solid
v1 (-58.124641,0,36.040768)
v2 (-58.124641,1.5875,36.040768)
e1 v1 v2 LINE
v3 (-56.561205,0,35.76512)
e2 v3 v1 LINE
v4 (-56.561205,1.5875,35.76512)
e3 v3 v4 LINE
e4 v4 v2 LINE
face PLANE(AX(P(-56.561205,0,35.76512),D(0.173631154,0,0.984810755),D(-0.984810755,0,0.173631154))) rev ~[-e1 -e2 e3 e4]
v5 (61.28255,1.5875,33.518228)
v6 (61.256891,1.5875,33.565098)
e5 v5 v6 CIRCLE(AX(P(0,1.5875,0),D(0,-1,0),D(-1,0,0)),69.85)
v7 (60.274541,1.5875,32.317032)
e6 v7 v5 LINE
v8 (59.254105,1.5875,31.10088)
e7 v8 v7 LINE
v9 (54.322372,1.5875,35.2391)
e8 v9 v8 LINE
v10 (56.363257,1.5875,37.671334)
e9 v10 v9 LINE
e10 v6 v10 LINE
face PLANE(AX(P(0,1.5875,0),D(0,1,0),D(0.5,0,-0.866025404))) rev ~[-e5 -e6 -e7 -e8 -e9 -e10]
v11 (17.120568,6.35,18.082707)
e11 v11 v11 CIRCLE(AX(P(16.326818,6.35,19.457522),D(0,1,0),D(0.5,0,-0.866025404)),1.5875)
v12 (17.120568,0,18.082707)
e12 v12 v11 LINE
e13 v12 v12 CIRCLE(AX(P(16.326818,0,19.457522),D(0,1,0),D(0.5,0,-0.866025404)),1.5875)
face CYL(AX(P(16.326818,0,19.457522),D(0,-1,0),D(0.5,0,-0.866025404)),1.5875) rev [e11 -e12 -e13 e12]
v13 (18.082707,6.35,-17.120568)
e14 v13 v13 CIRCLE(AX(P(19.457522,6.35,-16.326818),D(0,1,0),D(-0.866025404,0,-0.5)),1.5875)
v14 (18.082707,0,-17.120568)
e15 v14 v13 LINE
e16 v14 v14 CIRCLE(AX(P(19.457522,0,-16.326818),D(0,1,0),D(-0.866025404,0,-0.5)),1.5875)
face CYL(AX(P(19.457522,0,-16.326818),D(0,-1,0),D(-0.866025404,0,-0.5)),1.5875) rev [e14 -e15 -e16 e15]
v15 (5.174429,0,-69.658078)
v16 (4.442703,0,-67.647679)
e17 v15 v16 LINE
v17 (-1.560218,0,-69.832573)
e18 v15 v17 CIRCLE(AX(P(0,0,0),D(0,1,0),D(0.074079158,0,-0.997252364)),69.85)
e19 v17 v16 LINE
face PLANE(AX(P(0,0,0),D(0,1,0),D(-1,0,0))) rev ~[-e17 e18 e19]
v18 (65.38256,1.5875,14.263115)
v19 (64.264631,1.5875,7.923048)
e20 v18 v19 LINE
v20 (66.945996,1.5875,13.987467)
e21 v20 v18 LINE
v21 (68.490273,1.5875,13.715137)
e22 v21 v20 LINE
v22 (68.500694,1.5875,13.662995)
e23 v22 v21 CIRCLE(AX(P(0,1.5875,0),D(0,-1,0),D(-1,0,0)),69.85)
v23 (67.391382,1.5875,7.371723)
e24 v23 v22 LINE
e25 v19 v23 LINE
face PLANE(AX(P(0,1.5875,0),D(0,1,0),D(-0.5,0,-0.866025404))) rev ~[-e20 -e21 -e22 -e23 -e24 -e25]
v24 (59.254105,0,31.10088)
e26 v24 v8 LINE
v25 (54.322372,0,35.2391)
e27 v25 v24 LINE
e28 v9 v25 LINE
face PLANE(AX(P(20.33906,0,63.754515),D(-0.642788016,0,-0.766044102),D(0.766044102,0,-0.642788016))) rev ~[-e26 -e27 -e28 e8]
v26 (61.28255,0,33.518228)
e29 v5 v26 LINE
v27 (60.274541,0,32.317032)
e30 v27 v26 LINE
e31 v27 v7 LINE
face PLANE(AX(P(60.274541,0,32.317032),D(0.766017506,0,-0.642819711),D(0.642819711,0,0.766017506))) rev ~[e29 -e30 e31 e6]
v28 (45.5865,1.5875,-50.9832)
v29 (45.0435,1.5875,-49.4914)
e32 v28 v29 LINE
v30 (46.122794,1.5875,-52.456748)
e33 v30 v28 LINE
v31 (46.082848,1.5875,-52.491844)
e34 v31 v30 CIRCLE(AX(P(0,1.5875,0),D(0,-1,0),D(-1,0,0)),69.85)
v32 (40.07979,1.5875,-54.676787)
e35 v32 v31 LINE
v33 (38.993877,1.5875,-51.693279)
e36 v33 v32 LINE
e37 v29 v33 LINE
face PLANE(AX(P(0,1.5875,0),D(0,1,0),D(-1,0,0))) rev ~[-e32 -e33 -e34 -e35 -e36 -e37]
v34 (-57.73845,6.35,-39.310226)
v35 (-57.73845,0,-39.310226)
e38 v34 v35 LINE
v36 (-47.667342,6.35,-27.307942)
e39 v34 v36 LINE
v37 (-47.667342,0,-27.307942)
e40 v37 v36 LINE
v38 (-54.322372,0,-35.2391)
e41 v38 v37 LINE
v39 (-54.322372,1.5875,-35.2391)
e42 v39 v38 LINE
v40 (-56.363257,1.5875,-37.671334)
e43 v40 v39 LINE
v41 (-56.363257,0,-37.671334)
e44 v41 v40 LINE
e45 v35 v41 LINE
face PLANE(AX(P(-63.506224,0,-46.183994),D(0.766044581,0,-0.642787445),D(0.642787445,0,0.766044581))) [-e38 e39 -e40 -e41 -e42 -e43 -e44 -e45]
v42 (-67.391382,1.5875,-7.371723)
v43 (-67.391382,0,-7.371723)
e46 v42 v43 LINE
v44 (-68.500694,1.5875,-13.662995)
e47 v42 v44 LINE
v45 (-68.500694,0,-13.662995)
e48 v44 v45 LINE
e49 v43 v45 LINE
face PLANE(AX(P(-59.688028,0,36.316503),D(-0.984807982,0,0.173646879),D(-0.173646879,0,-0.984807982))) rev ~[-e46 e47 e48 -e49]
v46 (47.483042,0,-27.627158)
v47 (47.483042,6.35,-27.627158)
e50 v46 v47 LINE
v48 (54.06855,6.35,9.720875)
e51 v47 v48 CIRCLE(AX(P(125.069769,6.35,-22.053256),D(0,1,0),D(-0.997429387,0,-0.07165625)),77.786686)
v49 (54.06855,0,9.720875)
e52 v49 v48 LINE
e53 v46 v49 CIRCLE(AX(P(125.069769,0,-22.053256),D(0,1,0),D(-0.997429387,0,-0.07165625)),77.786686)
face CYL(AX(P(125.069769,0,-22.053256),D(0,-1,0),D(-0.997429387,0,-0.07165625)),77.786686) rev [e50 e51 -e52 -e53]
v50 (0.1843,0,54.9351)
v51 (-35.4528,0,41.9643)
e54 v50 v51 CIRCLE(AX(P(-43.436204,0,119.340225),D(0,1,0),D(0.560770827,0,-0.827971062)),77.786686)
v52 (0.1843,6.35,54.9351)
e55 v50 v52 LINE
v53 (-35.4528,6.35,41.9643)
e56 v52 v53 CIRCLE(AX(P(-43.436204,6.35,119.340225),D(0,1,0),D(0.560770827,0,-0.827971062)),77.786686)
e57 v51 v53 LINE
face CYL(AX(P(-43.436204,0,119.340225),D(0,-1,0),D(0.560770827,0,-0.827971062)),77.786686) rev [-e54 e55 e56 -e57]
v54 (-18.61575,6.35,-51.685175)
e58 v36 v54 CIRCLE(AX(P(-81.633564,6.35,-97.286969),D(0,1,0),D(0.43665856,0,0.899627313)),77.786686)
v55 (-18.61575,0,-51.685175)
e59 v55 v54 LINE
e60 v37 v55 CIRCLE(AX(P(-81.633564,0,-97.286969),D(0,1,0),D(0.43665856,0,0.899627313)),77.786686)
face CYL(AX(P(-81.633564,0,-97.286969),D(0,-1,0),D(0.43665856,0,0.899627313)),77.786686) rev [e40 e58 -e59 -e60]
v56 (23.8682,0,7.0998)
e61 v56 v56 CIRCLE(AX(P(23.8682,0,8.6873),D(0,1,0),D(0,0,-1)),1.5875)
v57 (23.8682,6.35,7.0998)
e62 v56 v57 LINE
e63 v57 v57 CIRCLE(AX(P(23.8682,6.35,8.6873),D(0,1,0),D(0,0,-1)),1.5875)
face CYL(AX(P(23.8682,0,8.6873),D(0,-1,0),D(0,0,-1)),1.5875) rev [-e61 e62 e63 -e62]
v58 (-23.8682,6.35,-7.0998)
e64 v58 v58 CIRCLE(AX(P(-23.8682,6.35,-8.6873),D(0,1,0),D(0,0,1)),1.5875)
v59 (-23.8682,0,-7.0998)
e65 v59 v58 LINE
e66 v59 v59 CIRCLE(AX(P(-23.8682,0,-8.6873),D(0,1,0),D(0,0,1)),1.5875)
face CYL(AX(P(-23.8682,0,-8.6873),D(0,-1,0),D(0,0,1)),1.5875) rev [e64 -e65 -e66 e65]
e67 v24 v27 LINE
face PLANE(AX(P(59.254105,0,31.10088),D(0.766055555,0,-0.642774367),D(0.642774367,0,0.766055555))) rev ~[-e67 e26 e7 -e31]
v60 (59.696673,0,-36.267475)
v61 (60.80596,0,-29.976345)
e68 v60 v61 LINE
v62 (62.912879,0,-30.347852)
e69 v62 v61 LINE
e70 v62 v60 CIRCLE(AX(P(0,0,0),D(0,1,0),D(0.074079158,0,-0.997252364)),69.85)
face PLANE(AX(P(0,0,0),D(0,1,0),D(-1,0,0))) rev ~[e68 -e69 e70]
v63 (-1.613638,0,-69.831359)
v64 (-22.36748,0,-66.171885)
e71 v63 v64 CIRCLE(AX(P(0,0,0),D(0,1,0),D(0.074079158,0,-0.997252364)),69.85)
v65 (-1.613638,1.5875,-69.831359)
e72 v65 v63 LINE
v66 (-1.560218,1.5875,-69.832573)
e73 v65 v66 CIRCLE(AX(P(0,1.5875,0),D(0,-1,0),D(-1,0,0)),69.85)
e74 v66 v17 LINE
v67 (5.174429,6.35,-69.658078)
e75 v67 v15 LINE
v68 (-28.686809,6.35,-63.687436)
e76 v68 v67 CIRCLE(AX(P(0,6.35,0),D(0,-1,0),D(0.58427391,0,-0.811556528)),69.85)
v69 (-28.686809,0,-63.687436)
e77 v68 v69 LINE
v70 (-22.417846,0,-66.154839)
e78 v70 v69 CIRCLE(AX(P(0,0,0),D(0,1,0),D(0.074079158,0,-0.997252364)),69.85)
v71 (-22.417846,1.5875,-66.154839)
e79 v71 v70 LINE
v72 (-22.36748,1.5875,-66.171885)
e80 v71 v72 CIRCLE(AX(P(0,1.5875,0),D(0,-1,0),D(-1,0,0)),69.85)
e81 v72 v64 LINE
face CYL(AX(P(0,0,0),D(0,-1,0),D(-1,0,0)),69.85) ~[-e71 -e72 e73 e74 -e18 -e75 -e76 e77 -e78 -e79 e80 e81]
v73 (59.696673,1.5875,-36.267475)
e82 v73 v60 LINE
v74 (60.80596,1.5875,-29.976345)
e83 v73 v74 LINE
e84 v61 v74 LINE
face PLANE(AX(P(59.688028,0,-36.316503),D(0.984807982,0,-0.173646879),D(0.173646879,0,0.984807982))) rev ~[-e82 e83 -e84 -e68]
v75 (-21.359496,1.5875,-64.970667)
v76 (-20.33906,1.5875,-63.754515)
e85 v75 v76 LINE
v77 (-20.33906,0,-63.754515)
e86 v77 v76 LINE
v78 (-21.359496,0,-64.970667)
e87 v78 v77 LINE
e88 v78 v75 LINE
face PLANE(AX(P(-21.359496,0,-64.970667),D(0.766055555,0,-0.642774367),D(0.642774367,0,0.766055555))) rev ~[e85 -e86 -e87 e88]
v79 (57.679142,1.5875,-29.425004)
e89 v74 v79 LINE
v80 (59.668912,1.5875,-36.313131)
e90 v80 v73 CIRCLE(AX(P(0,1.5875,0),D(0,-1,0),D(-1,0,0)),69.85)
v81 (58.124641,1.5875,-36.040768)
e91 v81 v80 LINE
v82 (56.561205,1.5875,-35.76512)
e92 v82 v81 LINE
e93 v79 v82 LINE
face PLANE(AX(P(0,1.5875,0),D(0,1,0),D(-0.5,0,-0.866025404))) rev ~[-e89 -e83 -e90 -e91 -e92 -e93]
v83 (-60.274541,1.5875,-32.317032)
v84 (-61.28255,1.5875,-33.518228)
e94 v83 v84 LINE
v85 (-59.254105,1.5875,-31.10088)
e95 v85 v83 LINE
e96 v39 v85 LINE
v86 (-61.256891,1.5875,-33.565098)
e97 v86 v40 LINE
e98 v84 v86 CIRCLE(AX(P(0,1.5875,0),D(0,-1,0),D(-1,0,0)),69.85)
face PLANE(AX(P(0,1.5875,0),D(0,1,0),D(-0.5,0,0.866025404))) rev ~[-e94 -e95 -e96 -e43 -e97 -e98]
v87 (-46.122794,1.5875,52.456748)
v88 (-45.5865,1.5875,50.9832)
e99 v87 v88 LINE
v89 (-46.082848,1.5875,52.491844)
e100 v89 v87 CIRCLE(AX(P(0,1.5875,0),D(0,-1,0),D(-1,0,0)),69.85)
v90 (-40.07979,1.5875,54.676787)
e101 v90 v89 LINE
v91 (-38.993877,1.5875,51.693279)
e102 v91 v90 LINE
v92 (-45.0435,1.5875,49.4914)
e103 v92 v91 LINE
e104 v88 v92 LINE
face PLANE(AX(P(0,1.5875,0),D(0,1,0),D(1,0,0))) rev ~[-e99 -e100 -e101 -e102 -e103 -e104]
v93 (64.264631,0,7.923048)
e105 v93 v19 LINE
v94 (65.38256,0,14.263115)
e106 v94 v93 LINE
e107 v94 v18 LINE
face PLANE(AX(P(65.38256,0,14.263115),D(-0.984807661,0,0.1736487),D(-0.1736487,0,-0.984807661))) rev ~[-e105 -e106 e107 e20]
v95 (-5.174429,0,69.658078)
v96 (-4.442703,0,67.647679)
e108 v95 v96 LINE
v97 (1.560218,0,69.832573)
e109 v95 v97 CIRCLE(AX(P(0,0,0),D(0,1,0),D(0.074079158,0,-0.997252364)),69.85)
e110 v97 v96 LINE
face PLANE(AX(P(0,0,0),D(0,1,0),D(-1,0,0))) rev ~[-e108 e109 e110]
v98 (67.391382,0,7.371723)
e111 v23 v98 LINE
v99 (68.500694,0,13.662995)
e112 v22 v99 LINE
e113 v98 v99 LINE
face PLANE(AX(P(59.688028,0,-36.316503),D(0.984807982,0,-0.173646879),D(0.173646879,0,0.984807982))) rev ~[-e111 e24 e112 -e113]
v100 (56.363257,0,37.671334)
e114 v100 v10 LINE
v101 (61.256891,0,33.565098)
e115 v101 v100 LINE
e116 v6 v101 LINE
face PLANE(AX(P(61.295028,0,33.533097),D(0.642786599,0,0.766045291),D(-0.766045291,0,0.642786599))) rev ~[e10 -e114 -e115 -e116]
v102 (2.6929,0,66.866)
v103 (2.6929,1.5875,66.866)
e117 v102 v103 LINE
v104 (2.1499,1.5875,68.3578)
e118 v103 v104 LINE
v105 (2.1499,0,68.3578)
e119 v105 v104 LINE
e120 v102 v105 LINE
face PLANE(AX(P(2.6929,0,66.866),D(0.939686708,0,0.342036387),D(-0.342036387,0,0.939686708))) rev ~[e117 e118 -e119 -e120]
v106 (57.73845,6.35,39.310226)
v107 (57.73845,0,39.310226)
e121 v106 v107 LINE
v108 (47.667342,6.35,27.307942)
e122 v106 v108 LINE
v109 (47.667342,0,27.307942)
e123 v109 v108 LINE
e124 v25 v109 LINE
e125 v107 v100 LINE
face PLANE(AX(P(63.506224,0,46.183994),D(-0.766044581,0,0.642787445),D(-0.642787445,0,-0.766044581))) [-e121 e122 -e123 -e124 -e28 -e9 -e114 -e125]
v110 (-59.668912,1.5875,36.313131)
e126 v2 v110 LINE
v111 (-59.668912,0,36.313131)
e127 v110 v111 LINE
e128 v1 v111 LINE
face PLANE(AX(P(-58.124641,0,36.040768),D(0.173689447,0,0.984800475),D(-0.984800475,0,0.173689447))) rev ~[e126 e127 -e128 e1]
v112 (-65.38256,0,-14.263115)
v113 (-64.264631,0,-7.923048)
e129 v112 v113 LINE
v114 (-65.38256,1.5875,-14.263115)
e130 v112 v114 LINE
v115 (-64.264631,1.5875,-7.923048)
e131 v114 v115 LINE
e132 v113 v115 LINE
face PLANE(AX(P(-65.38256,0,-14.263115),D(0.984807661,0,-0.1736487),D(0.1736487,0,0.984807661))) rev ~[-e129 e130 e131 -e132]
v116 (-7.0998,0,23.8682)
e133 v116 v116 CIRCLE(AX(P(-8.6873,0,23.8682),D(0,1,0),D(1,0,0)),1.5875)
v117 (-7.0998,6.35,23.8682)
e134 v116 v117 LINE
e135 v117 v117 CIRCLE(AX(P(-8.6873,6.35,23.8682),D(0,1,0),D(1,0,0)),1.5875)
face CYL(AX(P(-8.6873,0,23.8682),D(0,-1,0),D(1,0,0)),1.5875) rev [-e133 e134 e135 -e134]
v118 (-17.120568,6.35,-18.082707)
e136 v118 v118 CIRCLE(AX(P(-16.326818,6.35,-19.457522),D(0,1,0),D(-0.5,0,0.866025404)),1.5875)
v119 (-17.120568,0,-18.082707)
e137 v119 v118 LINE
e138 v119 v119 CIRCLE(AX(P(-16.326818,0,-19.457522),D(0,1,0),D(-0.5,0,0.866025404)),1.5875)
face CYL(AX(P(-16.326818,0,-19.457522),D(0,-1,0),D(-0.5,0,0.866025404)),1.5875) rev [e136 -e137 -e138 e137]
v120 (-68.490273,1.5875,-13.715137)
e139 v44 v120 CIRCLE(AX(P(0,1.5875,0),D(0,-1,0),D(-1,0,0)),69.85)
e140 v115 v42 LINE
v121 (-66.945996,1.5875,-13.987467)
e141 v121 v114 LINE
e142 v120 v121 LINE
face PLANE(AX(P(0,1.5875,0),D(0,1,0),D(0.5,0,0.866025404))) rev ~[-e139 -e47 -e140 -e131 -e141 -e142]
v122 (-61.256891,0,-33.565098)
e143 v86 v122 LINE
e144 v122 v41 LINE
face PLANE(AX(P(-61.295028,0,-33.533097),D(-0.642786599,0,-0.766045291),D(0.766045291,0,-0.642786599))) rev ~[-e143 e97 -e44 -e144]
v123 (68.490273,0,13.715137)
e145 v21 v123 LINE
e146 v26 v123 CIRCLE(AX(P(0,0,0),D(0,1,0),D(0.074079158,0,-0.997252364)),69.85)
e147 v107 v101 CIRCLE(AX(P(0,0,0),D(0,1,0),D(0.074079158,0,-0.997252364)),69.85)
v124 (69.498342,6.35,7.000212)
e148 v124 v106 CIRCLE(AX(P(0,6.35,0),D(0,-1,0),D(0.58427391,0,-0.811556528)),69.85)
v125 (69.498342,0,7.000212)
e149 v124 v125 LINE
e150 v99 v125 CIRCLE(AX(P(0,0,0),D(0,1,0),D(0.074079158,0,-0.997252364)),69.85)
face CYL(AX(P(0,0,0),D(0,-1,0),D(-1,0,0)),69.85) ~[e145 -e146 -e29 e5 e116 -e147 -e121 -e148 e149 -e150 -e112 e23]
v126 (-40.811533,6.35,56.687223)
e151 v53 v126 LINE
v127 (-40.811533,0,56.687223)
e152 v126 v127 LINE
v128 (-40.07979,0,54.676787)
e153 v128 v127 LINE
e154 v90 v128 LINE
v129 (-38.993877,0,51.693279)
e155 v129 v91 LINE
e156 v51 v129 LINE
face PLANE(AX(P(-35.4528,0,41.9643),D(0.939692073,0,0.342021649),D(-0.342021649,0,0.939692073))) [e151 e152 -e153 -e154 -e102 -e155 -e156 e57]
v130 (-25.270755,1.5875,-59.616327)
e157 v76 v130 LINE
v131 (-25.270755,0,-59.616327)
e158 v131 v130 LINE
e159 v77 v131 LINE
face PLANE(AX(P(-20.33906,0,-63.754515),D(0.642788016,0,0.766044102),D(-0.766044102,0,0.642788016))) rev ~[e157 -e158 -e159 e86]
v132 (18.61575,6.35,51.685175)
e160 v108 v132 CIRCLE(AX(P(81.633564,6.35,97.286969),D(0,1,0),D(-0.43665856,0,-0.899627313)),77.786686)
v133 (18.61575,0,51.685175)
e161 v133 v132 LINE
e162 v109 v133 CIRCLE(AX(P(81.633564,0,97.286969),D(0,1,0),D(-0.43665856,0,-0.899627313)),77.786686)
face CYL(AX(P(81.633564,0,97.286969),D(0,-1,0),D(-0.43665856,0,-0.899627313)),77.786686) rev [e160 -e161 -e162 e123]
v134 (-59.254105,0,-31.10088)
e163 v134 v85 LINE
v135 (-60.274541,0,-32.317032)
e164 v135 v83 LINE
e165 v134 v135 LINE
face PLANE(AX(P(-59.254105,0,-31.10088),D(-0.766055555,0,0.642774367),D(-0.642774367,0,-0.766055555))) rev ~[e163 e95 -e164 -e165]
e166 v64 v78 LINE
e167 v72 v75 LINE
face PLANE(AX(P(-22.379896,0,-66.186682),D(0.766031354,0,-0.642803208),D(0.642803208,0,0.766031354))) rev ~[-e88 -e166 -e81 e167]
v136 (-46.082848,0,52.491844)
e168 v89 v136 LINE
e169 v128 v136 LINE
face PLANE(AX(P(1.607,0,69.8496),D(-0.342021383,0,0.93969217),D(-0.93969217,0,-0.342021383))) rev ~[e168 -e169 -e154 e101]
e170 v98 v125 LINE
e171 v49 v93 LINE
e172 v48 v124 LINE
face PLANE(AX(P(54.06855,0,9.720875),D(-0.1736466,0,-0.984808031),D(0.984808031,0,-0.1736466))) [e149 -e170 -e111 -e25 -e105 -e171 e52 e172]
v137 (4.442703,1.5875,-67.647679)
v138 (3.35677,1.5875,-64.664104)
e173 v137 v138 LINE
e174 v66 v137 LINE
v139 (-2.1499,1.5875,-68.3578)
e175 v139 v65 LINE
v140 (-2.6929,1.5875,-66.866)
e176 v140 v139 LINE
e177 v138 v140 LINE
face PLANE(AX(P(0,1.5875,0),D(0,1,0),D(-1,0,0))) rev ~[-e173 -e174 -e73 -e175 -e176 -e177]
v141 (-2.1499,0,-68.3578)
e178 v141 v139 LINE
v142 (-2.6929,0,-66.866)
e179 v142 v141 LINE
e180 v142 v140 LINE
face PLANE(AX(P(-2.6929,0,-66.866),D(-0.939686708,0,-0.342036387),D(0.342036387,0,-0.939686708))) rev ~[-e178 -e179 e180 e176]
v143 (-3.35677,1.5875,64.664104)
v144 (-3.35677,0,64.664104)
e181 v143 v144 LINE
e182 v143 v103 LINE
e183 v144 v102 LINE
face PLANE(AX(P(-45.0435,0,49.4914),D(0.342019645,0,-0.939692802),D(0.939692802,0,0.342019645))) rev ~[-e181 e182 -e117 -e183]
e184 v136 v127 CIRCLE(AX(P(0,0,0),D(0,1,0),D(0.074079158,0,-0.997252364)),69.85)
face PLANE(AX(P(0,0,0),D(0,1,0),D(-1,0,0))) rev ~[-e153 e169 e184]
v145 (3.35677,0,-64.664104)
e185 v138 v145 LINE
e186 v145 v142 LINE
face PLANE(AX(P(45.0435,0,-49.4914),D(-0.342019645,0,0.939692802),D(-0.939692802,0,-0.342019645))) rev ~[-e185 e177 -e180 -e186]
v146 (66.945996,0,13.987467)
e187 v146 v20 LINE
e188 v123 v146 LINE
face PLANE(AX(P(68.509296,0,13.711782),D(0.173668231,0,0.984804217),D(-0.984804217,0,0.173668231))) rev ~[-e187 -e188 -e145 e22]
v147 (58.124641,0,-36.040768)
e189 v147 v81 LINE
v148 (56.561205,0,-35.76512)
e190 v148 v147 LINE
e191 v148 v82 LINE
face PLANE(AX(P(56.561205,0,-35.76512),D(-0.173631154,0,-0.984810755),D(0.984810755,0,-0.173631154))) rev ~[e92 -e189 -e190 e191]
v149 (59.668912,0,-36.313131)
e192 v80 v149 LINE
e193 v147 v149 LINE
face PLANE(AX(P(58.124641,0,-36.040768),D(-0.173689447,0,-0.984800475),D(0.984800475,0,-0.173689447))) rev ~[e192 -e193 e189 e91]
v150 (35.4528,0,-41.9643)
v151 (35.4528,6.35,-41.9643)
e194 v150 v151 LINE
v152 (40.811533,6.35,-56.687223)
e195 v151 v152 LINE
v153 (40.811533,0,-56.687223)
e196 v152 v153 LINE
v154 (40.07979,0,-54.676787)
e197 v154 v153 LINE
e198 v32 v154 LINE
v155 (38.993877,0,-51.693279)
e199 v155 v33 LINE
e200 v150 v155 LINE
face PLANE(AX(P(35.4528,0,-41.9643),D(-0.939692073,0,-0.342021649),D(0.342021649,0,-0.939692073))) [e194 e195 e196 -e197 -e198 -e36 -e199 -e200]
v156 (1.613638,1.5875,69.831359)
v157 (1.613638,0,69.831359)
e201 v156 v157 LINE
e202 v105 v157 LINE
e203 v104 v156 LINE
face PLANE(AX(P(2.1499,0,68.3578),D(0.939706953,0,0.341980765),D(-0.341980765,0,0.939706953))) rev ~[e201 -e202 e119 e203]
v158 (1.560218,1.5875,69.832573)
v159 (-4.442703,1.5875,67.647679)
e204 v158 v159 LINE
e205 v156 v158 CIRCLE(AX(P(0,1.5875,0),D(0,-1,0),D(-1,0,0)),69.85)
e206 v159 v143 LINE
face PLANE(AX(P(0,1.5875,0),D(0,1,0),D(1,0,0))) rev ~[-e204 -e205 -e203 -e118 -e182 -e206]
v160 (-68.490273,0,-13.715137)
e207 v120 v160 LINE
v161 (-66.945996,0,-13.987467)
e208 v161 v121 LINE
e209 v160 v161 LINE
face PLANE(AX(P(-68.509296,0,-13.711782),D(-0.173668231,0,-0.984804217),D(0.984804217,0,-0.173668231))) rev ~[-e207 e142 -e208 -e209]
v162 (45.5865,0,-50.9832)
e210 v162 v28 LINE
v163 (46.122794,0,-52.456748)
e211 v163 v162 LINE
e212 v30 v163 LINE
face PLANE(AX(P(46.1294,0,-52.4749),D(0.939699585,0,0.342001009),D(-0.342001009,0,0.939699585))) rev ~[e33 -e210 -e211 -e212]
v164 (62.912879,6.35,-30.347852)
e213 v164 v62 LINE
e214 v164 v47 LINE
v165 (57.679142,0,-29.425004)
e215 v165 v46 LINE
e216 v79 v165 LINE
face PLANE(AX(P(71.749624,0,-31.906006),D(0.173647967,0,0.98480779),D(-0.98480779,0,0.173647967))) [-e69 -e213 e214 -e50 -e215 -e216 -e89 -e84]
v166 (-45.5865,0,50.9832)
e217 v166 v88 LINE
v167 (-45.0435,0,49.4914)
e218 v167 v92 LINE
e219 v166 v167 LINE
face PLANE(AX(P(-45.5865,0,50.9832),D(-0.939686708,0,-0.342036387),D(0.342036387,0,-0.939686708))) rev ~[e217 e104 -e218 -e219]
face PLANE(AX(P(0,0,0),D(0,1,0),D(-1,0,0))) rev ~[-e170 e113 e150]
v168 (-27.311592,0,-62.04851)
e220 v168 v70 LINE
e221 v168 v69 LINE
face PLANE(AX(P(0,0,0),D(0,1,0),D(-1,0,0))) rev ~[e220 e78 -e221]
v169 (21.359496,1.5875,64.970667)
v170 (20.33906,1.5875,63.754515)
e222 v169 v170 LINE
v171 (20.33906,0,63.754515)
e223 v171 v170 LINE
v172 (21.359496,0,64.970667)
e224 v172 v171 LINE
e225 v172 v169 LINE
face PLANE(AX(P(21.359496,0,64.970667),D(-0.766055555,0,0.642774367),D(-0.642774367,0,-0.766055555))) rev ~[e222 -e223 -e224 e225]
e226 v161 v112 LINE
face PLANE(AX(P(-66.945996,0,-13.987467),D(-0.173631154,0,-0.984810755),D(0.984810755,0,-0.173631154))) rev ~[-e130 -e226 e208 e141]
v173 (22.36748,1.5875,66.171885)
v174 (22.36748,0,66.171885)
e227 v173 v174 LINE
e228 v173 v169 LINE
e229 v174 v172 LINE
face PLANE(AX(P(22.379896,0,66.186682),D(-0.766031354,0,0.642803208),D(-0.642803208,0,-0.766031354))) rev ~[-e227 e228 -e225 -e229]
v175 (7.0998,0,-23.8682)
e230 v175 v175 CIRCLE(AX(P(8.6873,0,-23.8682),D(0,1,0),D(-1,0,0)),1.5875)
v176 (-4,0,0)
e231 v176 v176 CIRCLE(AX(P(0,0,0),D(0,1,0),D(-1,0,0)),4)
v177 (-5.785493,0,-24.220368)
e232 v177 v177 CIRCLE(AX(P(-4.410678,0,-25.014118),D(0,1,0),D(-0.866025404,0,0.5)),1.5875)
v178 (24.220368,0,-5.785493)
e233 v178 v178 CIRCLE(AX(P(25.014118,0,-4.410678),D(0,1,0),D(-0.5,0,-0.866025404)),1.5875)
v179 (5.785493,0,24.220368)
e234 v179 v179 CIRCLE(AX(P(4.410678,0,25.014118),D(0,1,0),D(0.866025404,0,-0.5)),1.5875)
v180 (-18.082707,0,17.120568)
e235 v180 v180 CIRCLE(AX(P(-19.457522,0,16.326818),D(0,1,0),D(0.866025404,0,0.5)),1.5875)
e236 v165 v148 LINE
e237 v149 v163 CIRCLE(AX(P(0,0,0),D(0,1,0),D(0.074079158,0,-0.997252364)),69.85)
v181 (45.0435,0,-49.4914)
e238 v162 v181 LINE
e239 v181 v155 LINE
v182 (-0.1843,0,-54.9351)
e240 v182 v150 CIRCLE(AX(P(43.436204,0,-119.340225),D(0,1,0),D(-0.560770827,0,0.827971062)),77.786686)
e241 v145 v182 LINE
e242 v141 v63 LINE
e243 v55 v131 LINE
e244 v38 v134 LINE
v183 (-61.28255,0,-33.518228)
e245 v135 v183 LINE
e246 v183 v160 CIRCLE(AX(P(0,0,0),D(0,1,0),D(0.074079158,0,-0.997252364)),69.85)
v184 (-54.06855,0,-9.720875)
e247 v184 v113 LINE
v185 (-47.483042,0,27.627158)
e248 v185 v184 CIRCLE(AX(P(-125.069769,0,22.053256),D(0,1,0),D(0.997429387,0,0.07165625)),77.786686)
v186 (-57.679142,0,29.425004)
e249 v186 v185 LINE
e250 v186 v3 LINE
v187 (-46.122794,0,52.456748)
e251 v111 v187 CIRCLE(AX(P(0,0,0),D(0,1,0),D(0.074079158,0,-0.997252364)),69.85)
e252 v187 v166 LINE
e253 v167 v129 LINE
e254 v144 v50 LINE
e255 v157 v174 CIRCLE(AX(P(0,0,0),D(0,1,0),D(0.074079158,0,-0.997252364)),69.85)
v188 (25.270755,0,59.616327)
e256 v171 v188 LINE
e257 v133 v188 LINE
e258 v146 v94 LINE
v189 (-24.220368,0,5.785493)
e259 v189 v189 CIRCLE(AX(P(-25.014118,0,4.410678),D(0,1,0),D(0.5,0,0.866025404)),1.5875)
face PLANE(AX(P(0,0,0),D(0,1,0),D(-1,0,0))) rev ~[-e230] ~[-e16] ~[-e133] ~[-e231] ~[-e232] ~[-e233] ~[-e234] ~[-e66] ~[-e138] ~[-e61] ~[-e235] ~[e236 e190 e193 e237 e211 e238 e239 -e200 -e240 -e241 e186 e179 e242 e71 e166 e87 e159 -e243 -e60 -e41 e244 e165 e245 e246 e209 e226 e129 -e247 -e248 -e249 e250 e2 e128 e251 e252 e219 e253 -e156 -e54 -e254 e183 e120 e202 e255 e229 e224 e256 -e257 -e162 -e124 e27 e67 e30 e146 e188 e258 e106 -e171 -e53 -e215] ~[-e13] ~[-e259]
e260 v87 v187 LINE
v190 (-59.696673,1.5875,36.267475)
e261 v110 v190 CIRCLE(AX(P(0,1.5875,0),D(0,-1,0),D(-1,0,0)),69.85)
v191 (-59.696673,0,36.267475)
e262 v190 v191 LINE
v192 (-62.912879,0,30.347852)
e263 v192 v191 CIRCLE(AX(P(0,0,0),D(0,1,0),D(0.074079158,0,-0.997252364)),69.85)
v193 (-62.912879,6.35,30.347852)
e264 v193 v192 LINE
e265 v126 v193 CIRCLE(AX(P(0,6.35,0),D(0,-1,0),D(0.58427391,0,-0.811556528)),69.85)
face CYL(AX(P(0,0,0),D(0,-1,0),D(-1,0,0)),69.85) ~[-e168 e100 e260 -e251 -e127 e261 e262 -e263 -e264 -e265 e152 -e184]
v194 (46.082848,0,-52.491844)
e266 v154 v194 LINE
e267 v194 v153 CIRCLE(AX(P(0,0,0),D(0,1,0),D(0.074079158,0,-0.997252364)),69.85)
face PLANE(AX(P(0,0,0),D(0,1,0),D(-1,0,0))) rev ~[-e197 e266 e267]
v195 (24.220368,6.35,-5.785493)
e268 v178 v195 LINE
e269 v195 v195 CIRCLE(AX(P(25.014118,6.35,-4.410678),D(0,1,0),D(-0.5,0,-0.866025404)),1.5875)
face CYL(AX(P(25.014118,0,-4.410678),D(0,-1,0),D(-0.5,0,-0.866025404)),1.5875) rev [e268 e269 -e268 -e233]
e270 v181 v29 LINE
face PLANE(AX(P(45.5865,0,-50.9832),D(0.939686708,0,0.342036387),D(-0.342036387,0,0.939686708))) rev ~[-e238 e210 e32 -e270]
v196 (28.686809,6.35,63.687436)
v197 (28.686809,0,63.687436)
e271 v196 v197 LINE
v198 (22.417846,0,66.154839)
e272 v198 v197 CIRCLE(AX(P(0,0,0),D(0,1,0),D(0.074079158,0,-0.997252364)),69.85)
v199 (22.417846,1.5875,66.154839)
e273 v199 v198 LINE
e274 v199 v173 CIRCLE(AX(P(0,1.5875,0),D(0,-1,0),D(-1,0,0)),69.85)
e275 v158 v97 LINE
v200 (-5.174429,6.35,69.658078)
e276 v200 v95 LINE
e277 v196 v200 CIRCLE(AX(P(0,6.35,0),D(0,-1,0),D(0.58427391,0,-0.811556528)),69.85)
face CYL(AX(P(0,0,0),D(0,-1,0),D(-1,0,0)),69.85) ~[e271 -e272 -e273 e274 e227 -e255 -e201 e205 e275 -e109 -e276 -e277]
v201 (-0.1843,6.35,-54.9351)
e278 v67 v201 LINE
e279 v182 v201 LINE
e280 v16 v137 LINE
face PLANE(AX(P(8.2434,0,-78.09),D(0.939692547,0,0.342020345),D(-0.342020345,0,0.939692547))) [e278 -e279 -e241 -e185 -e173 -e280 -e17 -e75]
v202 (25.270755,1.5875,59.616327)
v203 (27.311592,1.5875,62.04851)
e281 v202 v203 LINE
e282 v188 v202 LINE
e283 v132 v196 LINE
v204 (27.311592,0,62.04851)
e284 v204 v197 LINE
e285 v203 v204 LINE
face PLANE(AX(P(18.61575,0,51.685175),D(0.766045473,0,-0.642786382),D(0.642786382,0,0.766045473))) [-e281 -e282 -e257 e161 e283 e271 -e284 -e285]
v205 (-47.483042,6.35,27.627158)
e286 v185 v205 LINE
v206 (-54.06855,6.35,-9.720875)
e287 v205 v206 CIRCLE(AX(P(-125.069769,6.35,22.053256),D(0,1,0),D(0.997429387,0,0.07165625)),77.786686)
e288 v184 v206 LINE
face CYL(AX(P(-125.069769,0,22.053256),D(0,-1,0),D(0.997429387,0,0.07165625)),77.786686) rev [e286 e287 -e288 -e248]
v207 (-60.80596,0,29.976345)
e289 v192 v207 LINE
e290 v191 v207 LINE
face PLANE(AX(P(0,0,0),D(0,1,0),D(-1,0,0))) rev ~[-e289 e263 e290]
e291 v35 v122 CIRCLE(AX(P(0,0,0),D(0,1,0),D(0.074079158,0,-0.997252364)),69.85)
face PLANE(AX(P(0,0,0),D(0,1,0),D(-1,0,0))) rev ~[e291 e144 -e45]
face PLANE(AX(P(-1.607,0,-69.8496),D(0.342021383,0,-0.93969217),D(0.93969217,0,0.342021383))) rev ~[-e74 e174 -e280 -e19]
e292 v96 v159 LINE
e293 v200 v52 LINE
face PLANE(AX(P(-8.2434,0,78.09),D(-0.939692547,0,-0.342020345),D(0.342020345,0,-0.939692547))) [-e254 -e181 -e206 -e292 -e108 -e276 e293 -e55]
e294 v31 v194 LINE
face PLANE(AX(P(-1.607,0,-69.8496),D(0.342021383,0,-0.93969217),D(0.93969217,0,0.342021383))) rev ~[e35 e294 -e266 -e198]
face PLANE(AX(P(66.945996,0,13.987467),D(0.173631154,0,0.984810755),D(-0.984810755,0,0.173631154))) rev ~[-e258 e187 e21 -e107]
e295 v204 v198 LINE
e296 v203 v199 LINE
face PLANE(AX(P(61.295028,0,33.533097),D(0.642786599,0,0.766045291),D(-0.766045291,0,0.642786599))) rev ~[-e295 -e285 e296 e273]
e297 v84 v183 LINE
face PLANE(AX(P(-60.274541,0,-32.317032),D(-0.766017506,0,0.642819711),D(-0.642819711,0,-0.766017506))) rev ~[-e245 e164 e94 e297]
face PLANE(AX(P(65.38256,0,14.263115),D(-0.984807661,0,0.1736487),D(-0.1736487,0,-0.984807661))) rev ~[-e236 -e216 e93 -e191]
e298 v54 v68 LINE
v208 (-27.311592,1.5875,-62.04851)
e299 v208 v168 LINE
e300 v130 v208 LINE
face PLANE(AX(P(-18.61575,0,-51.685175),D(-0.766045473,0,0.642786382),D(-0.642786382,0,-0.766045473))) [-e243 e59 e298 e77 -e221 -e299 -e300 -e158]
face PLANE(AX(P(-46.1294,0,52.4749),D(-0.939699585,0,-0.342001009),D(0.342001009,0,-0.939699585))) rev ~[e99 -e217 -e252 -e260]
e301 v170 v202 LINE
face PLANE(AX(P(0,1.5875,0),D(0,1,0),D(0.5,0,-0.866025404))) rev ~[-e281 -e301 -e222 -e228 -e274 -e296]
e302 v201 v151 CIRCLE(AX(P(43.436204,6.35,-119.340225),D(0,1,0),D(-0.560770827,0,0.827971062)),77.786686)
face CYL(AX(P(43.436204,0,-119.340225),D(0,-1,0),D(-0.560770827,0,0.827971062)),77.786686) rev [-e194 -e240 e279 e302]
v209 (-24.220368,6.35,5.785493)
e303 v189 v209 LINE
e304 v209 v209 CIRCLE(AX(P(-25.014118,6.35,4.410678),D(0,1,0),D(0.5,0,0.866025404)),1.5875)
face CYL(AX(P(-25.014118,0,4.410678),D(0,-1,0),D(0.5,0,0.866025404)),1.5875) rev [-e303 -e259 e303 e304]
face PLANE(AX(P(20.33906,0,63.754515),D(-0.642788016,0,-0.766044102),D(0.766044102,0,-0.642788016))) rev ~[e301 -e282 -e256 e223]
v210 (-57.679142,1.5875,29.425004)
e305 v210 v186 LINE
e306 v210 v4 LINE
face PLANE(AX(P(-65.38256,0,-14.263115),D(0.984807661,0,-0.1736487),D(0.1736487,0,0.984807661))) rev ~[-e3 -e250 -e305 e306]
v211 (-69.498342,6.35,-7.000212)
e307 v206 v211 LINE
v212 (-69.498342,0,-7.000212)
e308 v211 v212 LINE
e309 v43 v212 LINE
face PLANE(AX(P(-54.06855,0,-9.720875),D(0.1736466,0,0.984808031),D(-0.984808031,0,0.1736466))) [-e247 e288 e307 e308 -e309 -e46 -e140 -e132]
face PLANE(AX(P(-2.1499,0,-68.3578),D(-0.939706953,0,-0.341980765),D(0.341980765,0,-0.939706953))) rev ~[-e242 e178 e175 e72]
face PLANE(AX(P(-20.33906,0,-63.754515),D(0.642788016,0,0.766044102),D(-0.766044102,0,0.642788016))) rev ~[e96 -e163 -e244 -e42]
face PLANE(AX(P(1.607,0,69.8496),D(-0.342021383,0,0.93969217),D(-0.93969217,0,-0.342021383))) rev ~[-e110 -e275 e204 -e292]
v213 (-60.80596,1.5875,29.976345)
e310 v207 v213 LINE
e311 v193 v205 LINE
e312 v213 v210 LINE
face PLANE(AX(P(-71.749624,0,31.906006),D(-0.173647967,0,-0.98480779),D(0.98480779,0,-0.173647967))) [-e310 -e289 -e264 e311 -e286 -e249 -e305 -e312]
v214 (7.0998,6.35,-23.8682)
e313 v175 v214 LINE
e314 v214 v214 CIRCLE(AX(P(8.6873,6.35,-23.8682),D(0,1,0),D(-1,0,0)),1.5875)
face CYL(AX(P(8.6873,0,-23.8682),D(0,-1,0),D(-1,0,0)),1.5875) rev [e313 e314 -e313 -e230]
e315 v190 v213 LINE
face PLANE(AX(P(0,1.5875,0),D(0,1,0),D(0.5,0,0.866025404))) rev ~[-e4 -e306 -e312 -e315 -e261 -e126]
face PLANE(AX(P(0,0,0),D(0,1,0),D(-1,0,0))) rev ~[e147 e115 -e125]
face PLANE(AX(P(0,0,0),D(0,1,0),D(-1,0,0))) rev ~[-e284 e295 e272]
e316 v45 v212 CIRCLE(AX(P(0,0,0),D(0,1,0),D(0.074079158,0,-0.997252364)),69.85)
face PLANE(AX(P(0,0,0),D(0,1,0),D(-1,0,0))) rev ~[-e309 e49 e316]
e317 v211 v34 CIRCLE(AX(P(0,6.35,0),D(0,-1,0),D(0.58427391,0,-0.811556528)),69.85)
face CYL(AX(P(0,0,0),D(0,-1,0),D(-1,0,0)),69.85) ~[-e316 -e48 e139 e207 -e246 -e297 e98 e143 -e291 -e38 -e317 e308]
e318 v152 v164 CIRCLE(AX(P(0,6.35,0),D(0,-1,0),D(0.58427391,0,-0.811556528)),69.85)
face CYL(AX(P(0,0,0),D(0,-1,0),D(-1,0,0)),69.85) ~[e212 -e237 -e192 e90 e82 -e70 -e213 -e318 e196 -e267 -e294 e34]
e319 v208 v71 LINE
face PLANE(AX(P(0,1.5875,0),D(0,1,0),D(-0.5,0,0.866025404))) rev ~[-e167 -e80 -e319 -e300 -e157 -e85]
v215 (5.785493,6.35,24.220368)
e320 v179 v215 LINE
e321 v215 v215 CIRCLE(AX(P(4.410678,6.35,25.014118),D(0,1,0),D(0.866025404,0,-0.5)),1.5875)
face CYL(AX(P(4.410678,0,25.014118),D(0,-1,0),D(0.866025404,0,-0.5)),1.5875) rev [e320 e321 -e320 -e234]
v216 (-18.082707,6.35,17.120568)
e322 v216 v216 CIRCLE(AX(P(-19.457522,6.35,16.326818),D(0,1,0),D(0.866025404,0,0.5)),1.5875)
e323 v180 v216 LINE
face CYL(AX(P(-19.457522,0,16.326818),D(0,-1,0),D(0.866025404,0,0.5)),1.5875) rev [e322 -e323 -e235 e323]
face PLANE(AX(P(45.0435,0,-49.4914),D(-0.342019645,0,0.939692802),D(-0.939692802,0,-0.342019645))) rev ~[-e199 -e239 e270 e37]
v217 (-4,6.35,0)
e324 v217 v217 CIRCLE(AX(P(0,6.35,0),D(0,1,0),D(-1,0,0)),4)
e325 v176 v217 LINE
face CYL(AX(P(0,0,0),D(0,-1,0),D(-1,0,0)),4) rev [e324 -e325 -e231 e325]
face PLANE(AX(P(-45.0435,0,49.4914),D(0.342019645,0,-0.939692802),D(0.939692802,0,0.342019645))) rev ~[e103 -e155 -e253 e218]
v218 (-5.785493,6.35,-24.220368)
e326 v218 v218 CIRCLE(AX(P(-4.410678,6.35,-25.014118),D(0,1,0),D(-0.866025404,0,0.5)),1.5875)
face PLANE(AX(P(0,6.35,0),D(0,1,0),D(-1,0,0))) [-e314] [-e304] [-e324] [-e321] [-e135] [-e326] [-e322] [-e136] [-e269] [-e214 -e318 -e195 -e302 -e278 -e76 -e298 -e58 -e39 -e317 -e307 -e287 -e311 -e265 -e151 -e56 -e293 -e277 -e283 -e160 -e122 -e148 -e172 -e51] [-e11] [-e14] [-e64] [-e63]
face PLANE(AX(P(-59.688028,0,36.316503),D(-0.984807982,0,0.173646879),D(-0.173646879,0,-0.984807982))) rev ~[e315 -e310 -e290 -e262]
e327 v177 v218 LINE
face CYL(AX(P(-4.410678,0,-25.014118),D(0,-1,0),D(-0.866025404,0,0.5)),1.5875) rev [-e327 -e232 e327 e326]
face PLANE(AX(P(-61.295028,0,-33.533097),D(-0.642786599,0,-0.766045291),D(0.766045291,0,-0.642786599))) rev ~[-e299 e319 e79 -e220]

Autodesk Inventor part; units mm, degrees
ref_plane "YZ Plane" through (0, 0, 0) normal (1, 0, 0) x (0, 1, 0)
ref_plane "XZ Plane" through (0, 0, 0) normal (0, 1, 0) x (-1, 0, 0)
ref_plane "XY Plane" through (0, 0, 0) normal (0, 0, 1) x (1, 0, 0)
sketch "Sketch2" plane through (0, 0, 0) normal (0, 1, 0) x (-1, 0, 0)
  circle A0 centre (0, 0) radius 69.85
  circle A1 centre (0, 0) radius 4
  dimension "d10" = 139.7
  dimension "d36" = 8
extrude "Extrusion1" add sketch "Sketch2" along normal blind 6.35
sketch "Sketch3" plane through (0, 0, 0) normal (0, 1, 0) x (-1, 0, 0)
  line L0 (-9.7351, -77.547) -> (0, -50.8) construction
  line L1 (0, -50.8) -> (-32.6536, -38.9151) construction
  line L2 (-32.6536, -38.9151) -> (-42.3887, -65.6621) construction
  line L3 (0, 0) -> (0, -50.8) construction
  line L4 (0, 0) -> (-32.6536, -38.9151) construction
  circle A0 centre (0, 0) radius 50.8 construction
  circle A1 centre (0, 0) radius 76.2 construction
  line L5 (-9.7351, -77.547) -> (-42.3887, -65.6621)
  line L6 (-1.0478, -53.6789) -> (-33.7014, -41.7939) construction
  line L7 (-9.7351, -77.547) -> (-1.0478, -53.6789) construction
  line L8 (-42.3887, -65.6621) -> (-33.7014, -41.7939) construction
  line L9 (-9.7351, -77.547) -> (-8.2434, -78.09)
  line L10 (-8.2434, -78.09) -> (0.1843, -54.9351)
  line L11 (-35.4528, -41.9643) -> (-43.8805, -65.1191)
  line L12 (-43.8805, -65.1191) -> (-42.3887, -65.6621)
  line L13 (-9.0486, -75.6608) -> (-41.7022, -63.7759) construction
  line L14 (-1.7343, -55.5651) -> (-34.388, -43.6801) construction
  line L15 (-26.0619, -71.6046) -> (-25.3754, -69.7184) construction
  line L16 (-18.0611, -49.6226) -> (-17.3746, -47.7364) construction
  arc A2 (-1.7343, -55.5651) -> (-34.388, -43.6801) centre (-43.4366, -119.341) ccw construction
  arc A3 (0.1843, -54.9351) -> (-35.4528, -41.9643) centre (-43.4366, -119.341) ccw
  line L17 (-17.3746, -47.7364) -> (-16.8317, -46.2446) construction
  dimension "d14" = 101.6
  dimension "d15" = 40
  dimension "d16" = 152.4
  dimension "d17" = 1.5875
  dimension "d24" = 1.5875
extrude "Extrusion2" cut sketch "Sketch3" along normal blind 6.35
pattern_circular "Circular Pattern2" count 6 over 360 about axis through (0, -10, 0) along (0, 1, 0) of "Extrusion2"
sketch "Sketch4" plane through (0, 0, 0) normal (0, 1, 0) x (-1, 0, 0)
  circle A0 centre (0, 0) radius 76.2 construction
  circle A1 centre (0, 0) radius 50.8 construction
  line L0 (0, 0) -> (0, -50.8) construction
  line L1 (0, 0) -> (-32.6536, -38.9151) construction
  line L2 (0, -50.8) -> (-32.6536, -38.9151) construction
  line L3 (0, -50.8) -> (-9.7351, -77.547) construction
  line L4 (-9.7351, -77.547) -> (-42.3887, -65.6621) construction
  line L5 (-42.3887, -65.6621) -> (-32.6536, -38.9151) construction
  line L6 (-26.0619, -71.6046) -> (-21.7183, -59.6705) construction
  line L7 (-21.7183, -59.6705) -> (-17.3746, -47.7364) construction
  line L8 (2.6929, -66.866) -> (2.1499, -68.3578)
  line L9 (2.1499, -68.3578) -> (1.607, -69.8496)
  line L10 (1.607, -69.8496) -> (-46.1294, -52.4749)
  line L11 (-46.1294, -52.4749) -> (-45.5865, -50.9832)
  line L12 (-45.5865, -50.9832) -> (-45.0435, -49.4914)
  line L13 (-45.0435, -49.4914) -> (2.6929, -66.866)
  line L14 (2.1499, -68.3578) -> (-21.7183, -59.6705) construction
  line L15 (-21.7183, -59.6705) -> (-45.5865, -50.9832) construction
  dimension "d25" = 101.6
  dimension "d26" = 152.4
  dimension "d27" = 40
  dimension "d28" = 3.175
  dimension "d29" = 50.8
sketch "Sketch5" plane through (0, 0, 0) normal (0, 1, 0) x (-1, 0, 0)
  circle A0 centre (0, 0) radius 50.8 construction
  line L0 (0, 0) -> (0, -50.8) construction
  line L1 (0, 0) -> (-8.6873, -23.8682) construction
  line L2 (-8.6873, -23.8682) -> (-17.3746, -47.7364) construction
  circle A1 centre (-8.6873, -23.8682) radius 1.5875
  dimension "d37" = 101.6
  dimension "d39" = 20
  dimension "d40" = 3.175
extrude "Extrusion3" cut sketch "Sketch5" along normal blind 6.35
pattern_circular "Circular Pattern4" count 12 over 360 about axis through (0, -10, 0) along (0, 1, 0) of "Extrusion3"
extrude "Extrusion4" cut sketch "Sketch4" along normal blind 1.5875
pattern_circular "Circular Pattern5" count 6 over 360 about axis through (0, -10, 0) along (0, 1, 0) of "Extrusion4"
equation "\"d10\" = hub_d"
equation "\"d36\" = shaft_d"
equation "\"d12\" = hub_t"
equation "\"d14\" = wheel_d - 2 * roller_d"
equation "\"d15\" = roller_angle"
equation "\"d16\" = wheel_d"
equation "\"d17\" = roller_side_gap"
equation "\"d24\" = roller_back_gap"
equation "\"d19\" = hub_t"
equation "\"d25\" = wheel_d - 2 * roller_d"
equation "\"d26\" = wheel_d"
equation "\"d27\" = roller_angle"
equation "\"d28\" = roller_shaft_d"
equation "\"d29\" = roller_shaft_l"
equation "\"d37\" = wheel_d - 2 * roller_d"
equation "\"d39\" = 0.5 * roller_angle"
equation "\"d40\" = hub_bolt_d"
equation "\"d41\" = hub_t"
equation "\"d46\" = 0.5 * roller_shaft_d"
equation "\"roller_angle\" = 40deg"
equation "\"wheel_d\" = 152.4"
equation "\"roller_d\" = 25.4"
equation "\"roller_shaft_d\" = 3.175"
equation "\"roller_count\" = 6"
equation "\"hub_d\" = 139.7"
equation "\"shaft_d\" = 8"
equation "\"hub_t\" = 6.35"
equation "\"roller_side_gap\" = 1.5875"
equation "\"roller_back_gap\" = 1.5875"
equation "\"roller_shaft_l\" = 50.8"
equation "\"hub_bolt_d\" = 3.175"
properties part number "hub"
